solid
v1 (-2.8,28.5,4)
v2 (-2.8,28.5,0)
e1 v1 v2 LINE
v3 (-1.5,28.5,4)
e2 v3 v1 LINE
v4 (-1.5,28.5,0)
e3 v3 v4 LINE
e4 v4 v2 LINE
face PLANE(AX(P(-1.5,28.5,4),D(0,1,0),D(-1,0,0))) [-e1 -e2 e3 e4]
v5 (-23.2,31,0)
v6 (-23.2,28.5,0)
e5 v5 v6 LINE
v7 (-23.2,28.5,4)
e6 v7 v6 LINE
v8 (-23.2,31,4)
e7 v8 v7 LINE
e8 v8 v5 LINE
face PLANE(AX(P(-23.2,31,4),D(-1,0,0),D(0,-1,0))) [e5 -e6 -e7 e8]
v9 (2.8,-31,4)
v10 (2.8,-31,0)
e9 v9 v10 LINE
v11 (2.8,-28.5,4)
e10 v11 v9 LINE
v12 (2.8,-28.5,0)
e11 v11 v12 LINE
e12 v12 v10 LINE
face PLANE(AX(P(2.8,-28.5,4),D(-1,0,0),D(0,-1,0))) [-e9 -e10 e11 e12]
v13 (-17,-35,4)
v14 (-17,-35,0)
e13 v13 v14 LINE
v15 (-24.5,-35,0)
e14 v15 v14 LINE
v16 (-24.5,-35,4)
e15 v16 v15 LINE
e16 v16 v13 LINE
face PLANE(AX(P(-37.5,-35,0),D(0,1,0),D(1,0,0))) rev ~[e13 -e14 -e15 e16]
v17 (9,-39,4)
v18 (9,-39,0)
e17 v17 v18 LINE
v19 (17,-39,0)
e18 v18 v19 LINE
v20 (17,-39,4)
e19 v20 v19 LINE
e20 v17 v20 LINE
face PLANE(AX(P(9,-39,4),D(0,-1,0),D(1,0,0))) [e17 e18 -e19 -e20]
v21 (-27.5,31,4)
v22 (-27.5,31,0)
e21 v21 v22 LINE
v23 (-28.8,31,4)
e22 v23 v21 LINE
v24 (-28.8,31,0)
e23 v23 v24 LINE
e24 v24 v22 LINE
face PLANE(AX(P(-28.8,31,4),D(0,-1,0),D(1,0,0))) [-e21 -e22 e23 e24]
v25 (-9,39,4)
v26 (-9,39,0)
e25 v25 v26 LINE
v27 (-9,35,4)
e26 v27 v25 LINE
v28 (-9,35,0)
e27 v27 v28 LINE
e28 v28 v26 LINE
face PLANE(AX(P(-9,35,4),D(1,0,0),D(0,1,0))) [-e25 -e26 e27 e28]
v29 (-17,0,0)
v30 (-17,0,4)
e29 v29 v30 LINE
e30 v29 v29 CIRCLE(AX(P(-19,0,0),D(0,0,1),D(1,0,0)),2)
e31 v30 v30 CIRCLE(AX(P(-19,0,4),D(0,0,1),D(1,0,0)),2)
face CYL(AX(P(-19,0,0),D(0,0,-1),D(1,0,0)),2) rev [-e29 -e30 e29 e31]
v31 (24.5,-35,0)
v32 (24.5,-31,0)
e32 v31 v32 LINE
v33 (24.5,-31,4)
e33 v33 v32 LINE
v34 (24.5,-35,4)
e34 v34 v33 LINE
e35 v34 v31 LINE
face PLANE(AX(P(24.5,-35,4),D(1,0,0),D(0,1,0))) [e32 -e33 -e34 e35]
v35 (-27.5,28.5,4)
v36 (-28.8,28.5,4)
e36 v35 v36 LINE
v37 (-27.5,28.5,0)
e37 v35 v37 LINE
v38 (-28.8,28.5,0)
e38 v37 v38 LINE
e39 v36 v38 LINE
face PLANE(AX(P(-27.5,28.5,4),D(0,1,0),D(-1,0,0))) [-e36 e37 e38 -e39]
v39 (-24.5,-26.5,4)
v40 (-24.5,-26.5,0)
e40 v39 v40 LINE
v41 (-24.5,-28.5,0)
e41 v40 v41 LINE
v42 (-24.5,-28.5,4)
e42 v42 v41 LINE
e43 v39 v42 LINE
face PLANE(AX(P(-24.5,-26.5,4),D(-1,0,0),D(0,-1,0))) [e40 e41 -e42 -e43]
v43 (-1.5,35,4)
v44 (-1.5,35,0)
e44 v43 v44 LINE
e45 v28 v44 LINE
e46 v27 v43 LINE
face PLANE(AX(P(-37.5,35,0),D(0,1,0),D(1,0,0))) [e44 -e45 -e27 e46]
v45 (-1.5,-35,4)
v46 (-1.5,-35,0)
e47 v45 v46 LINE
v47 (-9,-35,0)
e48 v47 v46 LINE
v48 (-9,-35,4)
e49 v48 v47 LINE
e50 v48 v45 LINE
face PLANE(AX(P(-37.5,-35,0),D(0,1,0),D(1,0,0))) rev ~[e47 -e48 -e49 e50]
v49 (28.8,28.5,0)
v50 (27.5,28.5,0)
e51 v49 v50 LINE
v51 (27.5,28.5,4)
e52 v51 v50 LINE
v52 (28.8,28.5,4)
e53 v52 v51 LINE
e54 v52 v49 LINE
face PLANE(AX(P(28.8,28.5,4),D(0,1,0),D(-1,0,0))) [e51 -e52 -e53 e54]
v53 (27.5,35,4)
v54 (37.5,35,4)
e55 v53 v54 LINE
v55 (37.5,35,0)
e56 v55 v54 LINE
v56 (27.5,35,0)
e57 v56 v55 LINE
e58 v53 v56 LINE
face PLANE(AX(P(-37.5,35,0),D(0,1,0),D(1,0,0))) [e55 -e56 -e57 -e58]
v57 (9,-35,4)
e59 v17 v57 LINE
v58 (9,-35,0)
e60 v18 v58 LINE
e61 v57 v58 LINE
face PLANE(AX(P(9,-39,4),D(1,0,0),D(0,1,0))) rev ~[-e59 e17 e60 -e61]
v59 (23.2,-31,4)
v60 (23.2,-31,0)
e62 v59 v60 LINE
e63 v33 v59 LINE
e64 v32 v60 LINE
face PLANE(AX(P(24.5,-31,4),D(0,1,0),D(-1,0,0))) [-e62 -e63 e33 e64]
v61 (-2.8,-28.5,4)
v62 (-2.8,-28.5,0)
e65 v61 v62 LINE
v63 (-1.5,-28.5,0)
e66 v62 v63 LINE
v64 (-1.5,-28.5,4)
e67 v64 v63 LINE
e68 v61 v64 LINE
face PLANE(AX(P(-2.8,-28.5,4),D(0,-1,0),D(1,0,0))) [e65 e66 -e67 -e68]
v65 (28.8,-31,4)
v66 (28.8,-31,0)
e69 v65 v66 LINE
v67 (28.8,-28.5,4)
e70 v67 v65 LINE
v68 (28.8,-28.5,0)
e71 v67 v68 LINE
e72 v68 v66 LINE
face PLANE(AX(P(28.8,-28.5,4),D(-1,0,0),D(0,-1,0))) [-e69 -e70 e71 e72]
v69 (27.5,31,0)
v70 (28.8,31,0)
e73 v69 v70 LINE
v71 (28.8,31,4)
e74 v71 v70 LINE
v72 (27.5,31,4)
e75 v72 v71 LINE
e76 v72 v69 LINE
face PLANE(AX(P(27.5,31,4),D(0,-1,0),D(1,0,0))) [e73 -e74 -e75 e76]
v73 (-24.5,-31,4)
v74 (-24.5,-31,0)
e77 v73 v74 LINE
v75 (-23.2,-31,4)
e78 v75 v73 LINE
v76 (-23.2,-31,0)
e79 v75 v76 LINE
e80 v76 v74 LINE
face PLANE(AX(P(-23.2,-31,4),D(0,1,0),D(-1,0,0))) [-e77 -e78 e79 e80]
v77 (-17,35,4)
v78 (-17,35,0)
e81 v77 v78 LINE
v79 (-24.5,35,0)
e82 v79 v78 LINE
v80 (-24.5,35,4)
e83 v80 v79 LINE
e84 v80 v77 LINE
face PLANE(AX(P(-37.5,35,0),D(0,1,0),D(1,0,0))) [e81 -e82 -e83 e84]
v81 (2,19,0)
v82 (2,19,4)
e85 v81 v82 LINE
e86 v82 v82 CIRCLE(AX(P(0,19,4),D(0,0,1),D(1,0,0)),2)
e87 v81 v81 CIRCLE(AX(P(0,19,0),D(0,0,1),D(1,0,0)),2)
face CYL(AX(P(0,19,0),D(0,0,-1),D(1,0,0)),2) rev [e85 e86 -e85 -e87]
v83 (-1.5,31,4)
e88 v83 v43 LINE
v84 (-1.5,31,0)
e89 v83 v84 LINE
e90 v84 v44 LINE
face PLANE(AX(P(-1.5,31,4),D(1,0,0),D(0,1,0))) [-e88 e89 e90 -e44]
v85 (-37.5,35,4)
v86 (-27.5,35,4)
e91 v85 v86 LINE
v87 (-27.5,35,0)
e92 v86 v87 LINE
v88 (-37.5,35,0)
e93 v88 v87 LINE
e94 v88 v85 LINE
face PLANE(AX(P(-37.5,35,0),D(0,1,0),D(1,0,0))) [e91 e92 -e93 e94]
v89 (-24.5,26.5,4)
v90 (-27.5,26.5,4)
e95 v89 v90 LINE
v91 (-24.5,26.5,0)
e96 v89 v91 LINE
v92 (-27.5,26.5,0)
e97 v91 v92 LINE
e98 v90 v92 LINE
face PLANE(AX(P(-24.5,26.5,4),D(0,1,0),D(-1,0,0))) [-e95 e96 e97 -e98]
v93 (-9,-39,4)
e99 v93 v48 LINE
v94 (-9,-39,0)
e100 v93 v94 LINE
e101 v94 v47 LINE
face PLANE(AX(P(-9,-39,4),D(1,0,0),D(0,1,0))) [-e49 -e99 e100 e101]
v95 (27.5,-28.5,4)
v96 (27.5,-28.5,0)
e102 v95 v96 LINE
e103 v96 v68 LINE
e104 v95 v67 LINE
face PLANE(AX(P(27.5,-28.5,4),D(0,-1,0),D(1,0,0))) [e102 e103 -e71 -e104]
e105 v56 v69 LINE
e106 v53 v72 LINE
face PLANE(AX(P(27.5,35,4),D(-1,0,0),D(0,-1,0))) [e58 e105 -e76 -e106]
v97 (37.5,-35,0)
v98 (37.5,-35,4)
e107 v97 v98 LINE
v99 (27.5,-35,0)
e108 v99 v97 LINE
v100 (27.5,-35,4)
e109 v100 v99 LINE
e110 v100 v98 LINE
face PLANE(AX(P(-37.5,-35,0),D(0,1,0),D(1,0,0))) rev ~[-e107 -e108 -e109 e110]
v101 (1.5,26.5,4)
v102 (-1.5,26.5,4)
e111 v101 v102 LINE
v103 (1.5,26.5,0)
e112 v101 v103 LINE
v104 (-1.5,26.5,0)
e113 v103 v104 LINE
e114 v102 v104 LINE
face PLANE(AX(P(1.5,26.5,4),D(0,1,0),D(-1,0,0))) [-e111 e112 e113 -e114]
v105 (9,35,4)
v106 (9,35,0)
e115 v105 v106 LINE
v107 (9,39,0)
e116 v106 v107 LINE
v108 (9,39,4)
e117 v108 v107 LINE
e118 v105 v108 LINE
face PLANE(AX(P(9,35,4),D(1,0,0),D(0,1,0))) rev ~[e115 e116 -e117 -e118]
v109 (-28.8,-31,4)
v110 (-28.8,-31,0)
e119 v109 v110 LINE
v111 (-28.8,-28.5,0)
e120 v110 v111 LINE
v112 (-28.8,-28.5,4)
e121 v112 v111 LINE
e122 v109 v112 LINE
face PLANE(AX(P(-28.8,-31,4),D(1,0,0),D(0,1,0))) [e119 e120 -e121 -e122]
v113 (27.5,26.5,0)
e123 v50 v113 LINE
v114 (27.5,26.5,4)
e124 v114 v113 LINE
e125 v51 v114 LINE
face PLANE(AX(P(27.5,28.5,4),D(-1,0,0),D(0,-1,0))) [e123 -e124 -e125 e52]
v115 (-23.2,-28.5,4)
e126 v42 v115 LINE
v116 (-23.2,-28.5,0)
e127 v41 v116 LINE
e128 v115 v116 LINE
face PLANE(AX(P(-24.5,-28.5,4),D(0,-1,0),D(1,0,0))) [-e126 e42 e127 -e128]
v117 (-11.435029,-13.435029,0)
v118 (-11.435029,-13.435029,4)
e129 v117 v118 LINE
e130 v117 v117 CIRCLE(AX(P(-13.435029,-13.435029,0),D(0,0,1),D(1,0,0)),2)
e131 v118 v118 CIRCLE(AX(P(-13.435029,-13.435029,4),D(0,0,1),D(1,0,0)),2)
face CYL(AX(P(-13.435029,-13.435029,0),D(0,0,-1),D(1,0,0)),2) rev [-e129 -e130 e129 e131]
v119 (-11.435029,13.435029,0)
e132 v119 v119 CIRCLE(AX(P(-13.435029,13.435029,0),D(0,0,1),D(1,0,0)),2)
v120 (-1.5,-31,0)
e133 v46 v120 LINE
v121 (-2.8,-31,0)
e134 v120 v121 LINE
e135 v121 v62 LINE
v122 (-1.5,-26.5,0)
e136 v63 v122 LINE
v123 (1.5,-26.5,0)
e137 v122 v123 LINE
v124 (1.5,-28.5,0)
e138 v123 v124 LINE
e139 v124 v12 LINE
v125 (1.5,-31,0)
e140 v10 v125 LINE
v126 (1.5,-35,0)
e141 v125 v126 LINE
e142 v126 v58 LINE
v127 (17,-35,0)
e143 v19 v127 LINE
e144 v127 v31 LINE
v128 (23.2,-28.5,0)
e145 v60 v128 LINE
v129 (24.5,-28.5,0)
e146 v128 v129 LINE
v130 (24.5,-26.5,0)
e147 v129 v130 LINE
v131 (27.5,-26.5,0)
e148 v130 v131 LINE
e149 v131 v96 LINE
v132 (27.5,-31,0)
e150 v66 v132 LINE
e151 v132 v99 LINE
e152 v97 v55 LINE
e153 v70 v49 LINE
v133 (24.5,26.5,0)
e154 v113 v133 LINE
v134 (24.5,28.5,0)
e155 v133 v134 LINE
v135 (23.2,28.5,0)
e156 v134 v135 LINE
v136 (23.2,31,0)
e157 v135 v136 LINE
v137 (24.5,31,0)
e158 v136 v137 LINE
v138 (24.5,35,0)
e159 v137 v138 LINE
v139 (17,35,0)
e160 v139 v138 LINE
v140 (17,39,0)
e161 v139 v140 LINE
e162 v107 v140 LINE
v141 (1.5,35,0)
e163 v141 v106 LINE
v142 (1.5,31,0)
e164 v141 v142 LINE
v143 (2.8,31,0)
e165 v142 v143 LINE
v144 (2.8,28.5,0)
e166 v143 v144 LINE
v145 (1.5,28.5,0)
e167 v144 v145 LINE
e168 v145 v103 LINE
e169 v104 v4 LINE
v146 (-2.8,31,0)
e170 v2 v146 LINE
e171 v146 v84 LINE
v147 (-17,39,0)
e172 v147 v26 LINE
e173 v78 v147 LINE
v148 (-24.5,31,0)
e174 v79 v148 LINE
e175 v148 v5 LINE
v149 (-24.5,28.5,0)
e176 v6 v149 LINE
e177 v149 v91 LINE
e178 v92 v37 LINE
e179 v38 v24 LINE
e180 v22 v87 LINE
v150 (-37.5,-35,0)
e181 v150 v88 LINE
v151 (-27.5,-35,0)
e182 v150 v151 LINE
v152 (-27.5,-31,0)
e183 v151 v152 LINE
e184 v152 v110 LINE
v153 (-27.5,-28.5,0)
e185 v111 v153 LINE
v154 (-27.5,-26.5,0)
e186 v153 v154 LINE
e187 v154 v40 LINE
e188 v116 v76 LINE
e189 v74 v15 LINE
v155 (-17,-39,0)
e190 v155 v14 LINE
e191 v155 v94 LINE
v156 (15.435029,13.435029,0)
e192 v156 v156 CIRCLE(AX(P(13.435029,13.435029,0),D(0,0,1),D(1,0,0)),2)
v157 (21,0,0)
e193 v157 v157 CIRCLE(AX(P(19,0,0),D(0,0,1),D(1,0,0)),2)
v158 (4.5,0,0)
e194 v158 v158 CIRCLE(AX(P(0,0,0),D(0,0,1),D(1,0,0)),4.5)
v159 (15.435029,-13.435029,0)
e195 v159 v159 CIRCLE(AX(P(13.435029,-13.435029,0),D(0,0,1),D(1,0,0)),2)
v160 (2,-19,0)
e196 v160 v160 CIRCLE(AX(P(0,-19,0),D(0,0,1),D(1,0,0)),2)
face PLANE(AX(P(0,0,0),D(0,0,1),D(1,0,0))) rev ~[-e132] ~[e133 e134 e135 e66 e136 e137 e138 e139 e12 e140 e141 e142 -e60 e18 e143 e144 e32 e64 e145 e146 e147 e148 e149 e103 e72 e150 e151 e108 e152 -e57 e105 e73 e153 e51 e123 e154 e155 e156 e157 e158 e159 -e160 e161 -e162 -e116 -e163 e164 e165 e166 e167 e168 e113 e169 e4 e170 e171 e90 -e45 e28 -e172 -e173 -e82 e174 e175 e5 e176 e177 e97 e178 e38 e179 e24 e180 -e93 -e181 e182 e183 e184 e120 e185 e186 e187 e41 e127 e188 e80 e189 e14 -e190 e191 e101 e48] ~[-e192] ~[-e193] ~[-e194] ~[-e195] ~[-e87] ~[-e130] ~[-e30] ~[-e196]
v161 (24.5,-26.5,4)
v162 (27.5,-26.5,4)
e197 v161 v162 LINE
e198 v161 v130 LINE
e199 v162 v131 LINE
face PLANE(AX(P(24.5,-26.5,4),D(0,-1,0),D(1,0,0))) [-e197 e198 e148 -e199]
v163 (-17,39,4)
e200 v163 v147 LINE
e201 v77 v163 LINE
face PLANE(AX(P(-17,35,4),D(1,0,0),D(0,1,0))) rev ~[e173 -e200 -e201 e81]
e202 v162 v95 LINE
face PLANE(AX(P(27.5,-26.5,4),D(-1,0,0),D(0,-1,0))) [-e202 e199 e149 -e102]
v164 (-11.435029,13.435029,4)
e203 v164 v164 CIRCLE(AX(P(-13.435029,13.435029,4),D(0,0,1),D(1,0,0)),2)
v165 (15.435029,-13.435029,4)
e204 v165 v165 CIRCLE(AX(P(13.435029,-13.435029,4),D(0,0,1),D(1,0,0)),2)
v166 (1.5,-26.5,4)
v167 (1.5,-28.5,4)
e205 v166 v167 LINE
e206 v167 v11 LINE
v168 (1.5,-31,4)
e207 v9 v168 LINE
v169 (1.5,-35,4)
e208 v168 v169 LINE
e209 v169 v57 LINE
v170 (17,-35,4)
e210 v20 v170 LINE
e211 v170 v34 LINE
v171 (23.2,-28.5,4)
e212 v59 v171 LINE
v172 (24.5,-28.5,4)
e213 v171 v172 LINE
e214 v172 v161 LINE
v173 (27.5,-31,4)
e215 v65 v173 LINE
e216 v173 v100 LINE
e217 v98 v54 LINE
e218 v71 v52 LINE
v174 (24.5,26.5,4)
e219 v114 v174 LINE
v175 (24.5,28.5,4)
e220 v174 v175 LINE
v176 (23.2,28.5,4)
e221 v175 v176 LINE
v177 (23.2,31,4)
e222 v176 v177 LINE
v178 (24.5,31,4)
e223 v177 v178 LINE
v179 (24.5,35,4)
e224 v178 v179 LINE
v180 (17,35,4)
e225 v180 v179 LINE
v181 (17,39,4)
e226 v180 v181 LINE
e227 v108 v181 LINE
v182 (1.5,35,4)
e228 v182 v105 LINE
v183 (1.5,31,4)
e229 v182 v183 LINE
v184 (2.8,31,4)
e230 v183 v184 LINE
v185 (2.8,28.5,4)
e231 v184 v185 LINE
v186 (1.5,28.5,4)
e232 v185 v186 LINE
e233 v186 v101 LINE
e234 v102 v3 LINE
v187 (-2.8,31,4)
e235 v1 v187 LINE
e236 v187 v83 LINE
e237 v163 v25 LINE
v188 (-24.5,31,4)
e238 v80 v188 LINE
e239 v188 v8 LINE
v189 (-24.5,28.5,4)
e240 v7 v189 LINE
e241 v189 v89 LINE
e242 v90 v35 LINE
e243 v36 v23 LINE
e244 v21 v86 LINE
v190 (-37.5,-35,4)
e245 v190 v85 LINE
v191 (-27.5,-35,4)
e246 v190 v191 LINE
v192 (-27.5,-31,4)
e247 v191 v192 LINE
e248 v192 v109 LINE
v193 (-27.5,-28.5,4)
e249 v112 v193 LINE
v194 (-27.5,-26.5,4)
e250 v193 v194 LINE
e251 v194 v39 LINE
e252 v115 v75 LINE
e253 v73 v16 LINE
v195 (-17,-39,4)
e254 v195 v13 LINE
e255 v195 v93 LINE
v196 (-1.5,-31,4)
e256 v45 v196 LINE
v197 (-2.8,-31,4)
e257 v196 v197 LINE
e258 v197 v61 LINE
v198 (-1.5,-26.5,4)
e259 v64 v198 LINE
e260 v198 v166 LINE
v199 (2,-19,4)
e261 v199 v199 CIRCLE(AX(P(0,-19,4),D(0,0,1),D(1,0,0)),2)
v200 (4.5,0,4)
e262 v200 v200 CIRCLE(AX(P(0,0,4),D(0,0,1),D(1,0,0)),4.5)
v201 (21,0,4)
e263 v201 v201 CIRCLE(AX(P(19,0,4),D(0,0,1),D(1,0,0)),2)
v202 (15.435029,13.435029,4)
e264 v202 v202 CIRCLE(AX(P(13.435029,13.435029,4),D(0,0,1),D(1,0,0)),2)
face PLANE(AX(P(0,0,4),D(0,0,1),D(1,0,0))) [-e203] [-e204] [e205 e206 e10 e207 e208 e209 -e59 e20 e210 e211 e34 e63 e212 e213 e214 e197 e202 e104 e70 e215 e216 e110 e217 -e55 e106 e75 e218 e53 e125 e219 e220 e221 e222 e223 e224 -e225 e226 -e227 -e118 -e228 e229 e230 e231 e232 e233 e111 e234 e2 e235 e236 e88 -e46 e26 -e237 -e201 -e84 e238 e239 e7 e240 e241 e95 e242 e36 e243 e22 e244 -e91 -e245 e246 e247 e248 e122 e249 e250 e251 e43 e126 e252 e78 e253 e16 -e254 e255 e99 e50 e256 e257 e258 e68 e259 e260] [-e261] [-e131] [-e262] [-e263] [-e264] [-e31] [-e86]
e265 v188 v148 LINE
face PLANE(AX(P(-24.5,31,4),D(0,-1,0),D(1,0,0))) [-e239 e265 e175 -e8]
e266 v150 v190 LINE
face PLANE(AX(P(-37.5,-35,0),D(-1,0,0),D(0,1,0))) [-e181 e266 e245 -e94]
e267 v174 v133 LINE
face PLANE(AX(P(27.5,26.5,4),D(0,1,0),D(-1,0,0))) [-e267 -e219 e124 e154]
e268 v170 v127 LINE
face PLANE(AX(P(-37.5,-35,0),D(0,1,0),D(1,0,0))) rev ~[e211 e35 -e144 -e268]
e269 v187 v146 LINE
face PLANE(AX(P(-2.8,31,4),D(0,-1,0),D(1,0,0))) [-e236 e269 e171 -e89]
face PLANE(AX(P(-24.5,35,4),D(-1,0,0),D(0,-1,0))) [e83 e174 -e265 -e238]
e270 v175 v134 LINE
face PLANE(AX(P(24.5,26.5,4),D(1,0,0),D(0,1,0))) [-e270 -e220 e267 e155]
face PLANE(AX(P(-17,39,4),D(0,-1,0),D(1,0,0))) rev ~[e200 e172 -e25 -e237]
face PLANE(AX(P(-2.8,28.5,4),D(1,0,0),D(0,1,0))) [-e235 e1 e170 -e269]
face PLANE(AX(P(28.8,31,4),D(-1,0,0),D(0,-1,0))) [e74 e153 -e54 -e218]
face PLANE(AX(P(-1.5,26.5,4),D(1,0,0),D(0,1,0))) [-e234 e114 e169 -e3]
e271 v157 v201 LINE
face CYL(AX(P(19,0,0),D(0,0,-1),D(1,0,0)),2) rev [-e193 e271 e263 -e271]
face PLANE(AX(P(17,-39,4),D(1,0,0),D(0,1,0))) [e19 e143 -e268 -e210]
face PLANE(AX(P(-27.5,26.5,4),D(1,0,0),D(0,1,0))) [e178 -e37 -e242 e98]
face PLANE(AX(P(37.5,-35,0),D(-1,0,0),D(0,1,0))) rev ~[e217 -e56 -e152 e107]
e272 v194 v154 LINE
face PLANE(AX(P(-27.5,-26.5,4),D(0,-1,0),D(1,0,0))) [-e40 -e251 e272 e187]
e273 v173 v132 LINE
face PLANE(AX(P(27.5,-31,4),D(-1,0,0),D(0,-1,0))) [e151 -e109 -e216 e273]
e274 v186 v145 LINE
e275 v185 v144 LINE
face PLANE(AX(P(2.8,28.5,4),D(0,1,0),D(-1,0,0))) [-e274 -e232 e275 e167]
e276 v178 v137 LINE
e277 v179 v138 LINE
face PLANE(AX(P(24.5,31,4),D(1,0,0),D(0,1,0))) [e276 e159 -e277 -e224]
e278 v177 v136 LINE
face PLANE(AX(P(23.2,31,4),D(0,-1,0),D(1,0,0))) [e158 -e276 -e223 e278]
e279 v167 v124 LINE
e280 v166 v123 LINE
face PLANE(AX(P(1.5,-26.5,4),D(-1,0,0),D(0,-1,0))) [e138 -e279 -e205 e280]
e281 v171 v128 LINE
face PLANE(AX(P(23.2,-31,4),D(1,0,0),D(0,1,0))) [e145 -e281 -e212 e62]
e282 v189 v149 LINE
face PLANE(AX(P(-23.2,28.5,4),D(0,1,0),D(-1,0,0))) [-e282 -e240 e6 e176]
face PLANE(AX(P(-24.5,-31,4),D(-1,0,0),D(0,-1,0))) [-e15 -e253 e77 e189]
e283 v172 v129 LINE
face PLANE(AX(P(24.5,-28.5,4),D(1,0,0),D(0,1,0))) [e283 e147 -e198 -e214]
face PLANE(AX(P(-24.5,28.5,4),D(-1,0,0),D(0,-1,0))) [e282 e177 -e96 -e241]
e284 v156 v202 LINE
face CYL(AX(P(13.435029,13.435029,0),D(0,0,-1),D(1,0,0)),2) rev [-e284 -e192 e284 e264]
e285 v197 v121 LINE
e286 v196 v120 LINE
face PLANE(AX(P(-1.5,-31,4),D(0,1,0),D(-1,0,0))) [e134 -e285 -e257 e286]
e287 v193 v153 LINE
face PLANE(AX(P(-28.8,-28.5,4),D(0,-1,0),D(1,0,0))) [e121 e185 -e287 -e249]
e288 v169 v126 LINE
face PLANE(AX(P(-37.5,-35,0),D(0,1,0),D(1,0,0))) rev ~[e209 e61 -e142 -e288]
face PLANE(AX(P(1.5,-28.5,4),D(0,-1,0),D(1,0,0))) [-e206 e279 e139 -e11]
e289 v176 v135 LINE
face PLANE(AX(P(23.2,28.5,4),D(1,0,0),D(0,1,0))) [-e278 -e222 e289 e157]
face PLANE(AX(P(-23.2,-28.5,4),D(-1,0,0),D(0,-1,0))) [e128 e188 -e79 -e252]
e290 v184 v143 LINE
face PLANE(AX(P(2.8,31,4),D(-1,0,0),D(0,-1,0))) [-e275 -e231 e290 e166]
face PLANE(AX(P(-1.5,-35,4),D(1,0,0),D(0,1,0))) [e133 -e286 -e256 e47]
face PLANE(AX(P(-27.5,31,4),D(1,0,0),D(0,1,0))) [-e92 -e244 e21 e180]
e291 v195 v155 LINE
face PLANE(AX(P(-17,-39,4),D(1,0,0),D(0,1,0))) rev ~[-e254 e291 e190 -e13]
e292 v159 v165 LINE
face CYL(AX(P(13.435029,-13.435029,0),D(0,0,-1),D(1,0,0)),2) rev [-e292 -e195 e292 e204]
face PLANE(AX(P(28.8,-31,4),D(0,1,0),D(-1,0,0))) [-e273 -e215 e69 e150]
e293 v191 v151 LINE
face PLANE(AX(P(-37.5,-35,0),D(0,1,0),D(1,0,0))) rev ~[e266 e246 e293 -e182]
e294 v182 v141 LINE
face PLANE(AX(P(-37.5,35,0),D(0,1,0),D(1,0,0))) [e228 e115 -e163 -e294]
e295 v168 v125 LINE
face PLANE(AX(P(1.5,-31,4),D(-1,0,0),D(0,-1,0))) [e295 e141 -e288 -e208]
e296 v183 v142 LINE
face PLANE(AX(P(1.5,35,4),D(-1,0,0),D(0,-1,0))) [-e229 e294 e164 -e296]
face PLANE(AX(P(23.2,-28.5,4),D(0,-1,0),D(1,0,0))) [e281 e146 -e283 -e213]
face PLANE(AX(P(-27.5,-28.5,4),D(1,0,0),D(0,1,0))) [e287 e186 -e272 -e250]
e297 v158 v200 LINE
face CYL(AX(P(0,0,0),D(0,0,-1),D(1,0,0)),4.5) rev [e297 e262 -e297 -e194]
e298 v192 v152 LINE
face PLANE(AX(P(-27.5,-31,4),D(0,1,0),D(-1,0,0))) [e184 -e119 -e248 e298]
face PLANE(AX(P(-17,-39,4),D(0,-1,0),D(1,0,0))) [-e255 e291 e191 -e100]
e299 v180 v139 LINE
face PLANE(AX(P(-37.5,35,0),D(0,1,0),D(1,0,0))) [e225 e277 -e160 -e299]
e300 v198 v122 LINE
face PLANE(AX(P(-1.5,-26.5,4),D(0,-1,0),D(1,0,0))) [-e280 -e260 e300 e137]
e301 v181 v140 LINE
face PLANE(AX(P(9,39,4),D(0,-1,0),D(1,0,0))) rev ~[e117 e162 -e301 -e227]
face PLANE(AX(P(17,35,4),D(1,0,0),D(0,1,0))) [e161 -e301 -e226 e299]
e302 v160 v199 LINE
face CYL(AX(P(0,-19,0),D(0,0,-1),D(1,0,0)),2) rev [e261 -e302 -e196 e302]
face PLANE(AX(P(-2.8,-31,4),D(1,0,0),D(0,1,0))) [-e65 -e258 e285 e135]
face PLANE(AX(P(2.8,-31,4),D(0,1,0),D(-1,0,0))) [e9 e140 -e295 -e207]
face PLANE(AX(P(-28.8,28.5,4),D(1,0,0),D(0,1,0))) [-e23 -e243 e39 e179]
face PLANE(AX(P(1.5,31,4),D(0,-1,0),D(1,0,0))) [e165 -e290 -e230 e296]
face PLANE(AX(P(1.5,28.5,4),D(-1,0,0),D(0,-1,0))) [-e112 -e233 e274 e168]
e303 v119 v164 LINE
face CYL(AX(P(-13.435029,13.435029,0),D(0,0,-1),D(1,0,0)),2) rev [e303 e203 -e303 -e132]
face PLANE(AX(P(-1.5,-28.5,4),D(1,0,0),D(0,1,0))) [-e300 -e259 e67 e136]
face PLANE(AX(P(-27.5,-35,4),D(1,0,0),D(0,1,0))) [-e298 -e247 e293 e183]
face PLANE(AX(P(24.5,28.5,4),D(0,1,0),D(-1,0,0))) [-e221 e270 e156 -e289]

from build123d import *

# Parameters (mm, degrees)
SKETCH_1_W          = 75
SKETCH_1_H          = 70
SKETCH_1_R          = 4.5
SKETCH_1_R_2        = 2
EXTRUDE_1_DEPTH     = 4
CUT_EXTRUDE_1_DEPTH = 4
SKETCH_3_W          = 8
SKETCH_3_H          = 4
EXTRUDE_2_DEPTH     = 4


with BuildPart() as part:
    # 草图1 → 凸台-拉伸1 (new body)
    with BuildSketch(Plane.XY):
        Rectangle(SKETCH_1_W, SKETCH_1_H)
        Circle(SKETCH_1_R, mode=Mode.SUBTRACT)
        with Locations((19, 0)):
            Circle(SKETCH_1_R_2, mode=Mode.SUBTRACT)
        with Locations((13.435028843, -13.435028843)):
            Circle(SKETCH_1_R_2, mode=Mode.SUBTRACT)
        with Locations((0, -19)):
            Circle(SKETCH_1_R_2, mode=Mode.SUBTRACT)
        with Locations((-13.435028843, -13.435028843)):
            Circle(SKETCH_1_R_2, mode=Mode.SUBTRACT)
        with Locations((-19, 0)):
            Circle(SKETCH_1_R_2, mode=Mode.SUBTRACT)
        with Locations((-13.435028843, 13.435028843)):
            Circle(SKETCH_1_R_2, mode=Mode.SUBTRACT)
        with Locations((0, 19)):
            Circle(SKETCH_1_R_2, mode=Mode.SUBTRACT)
        with Locations((13.435028843, 13.435028843)):
            Circle(SKETCH_1_R_2, mode=Mode.SUBTRACT)
    extrude(amount=EXTRUDE_1_DEPTH)

    # 草图2 → 切除-拉伸1 (cut)
    with BuildSketch(Plane.XY.offset(4)):
        Polygon((-1.5, 35), (1.5, 35), (1.5, 31), (2.8, 31), (2.8, 28.5), (1.5, 28.5), (1.5, 26.5), (-1.5, 26.5), (-1.5, 28.5), (-2.8, 28.5), (-2.8, 31), (-1.5, 31), align=None)
        Polygon((27.5, 35), (27.5, 31), (28.8, 31), (28.8, 28.5), (27.5, 28.5), (27.5, 26.5), (24.5, 26.5), (24.5, 28.5), (23.2, 28.5), (23.2, 31), (24.5, 31), (24.5, 35), align=None)
        Polygon((-27.5, 35), (-24.5, 35), (-24.5, 31), (-23.2, 31), (-23.2, 28.5), (-24.5, 28.5), (-24.5, 26.5), (-27.5, 26.5), (-27.5, 28.5), (-28.8, 28.5), (-28.8, 31), (-27.5, 31), align=None)
        Polygon((-27.5, -35), (-27.5, -31), (-28.8, -31), (-28.8, -28.5), (-27.5, -28.5), (-27.5, -26.5), (-24.5, -26.5), (-24.5, -28.5), (-23.2, -28.5), (-23.2, -31), (-24.5, -31), (-24.5, -35), align=None)
        Polygon((27.5, -35), (24.5, -35), (24.5, -31), (23.2, -31), (23.2, -28.5), (24.5, -28.5), (24.5, -26.5), (27.5, -26.5), (27.5, -28.5), (28.8, -28.5), (28.8, -31), (27.5, -31), align=None)
        Polygon((-1.5, -35), (-1.5, -31), (-2.8, -31), (-2.8, -28.5), (-1.5, -28.5), (-1.5, -26.5), (1.5, -26.5), (1.5, -28.5), (2.8, -28.5), (2.8, -31), (1.5, -31), (1.5, -35), align=None)
    extrude(amount=-CUT_EXTRUDE_1_DEPTH, mode=Mode.SUBTRACT)

    # 草图3 → 凸台-拉伸2 (add)
    with BuildSketch(Plane.XY.offset(4)):
        with Locations((-13, -37)):
            Rectangle(SKETCH_3_W, SKETCH_3_H)
        with Locations((13, -37)):
            Rectangle(SKETCH_3_W, SKETCH_3_H)
        with Locations((13, 37)):
            Rectangle(SKETCH_3_W, SKETCH_3_H)
        with Locations((-13, 37)):
            Rectangle(SKETCH_3_W, SKETCH_3_H)
    extrude(amount=-EXTRUDE_2_DEPTH)


solid = part.part
